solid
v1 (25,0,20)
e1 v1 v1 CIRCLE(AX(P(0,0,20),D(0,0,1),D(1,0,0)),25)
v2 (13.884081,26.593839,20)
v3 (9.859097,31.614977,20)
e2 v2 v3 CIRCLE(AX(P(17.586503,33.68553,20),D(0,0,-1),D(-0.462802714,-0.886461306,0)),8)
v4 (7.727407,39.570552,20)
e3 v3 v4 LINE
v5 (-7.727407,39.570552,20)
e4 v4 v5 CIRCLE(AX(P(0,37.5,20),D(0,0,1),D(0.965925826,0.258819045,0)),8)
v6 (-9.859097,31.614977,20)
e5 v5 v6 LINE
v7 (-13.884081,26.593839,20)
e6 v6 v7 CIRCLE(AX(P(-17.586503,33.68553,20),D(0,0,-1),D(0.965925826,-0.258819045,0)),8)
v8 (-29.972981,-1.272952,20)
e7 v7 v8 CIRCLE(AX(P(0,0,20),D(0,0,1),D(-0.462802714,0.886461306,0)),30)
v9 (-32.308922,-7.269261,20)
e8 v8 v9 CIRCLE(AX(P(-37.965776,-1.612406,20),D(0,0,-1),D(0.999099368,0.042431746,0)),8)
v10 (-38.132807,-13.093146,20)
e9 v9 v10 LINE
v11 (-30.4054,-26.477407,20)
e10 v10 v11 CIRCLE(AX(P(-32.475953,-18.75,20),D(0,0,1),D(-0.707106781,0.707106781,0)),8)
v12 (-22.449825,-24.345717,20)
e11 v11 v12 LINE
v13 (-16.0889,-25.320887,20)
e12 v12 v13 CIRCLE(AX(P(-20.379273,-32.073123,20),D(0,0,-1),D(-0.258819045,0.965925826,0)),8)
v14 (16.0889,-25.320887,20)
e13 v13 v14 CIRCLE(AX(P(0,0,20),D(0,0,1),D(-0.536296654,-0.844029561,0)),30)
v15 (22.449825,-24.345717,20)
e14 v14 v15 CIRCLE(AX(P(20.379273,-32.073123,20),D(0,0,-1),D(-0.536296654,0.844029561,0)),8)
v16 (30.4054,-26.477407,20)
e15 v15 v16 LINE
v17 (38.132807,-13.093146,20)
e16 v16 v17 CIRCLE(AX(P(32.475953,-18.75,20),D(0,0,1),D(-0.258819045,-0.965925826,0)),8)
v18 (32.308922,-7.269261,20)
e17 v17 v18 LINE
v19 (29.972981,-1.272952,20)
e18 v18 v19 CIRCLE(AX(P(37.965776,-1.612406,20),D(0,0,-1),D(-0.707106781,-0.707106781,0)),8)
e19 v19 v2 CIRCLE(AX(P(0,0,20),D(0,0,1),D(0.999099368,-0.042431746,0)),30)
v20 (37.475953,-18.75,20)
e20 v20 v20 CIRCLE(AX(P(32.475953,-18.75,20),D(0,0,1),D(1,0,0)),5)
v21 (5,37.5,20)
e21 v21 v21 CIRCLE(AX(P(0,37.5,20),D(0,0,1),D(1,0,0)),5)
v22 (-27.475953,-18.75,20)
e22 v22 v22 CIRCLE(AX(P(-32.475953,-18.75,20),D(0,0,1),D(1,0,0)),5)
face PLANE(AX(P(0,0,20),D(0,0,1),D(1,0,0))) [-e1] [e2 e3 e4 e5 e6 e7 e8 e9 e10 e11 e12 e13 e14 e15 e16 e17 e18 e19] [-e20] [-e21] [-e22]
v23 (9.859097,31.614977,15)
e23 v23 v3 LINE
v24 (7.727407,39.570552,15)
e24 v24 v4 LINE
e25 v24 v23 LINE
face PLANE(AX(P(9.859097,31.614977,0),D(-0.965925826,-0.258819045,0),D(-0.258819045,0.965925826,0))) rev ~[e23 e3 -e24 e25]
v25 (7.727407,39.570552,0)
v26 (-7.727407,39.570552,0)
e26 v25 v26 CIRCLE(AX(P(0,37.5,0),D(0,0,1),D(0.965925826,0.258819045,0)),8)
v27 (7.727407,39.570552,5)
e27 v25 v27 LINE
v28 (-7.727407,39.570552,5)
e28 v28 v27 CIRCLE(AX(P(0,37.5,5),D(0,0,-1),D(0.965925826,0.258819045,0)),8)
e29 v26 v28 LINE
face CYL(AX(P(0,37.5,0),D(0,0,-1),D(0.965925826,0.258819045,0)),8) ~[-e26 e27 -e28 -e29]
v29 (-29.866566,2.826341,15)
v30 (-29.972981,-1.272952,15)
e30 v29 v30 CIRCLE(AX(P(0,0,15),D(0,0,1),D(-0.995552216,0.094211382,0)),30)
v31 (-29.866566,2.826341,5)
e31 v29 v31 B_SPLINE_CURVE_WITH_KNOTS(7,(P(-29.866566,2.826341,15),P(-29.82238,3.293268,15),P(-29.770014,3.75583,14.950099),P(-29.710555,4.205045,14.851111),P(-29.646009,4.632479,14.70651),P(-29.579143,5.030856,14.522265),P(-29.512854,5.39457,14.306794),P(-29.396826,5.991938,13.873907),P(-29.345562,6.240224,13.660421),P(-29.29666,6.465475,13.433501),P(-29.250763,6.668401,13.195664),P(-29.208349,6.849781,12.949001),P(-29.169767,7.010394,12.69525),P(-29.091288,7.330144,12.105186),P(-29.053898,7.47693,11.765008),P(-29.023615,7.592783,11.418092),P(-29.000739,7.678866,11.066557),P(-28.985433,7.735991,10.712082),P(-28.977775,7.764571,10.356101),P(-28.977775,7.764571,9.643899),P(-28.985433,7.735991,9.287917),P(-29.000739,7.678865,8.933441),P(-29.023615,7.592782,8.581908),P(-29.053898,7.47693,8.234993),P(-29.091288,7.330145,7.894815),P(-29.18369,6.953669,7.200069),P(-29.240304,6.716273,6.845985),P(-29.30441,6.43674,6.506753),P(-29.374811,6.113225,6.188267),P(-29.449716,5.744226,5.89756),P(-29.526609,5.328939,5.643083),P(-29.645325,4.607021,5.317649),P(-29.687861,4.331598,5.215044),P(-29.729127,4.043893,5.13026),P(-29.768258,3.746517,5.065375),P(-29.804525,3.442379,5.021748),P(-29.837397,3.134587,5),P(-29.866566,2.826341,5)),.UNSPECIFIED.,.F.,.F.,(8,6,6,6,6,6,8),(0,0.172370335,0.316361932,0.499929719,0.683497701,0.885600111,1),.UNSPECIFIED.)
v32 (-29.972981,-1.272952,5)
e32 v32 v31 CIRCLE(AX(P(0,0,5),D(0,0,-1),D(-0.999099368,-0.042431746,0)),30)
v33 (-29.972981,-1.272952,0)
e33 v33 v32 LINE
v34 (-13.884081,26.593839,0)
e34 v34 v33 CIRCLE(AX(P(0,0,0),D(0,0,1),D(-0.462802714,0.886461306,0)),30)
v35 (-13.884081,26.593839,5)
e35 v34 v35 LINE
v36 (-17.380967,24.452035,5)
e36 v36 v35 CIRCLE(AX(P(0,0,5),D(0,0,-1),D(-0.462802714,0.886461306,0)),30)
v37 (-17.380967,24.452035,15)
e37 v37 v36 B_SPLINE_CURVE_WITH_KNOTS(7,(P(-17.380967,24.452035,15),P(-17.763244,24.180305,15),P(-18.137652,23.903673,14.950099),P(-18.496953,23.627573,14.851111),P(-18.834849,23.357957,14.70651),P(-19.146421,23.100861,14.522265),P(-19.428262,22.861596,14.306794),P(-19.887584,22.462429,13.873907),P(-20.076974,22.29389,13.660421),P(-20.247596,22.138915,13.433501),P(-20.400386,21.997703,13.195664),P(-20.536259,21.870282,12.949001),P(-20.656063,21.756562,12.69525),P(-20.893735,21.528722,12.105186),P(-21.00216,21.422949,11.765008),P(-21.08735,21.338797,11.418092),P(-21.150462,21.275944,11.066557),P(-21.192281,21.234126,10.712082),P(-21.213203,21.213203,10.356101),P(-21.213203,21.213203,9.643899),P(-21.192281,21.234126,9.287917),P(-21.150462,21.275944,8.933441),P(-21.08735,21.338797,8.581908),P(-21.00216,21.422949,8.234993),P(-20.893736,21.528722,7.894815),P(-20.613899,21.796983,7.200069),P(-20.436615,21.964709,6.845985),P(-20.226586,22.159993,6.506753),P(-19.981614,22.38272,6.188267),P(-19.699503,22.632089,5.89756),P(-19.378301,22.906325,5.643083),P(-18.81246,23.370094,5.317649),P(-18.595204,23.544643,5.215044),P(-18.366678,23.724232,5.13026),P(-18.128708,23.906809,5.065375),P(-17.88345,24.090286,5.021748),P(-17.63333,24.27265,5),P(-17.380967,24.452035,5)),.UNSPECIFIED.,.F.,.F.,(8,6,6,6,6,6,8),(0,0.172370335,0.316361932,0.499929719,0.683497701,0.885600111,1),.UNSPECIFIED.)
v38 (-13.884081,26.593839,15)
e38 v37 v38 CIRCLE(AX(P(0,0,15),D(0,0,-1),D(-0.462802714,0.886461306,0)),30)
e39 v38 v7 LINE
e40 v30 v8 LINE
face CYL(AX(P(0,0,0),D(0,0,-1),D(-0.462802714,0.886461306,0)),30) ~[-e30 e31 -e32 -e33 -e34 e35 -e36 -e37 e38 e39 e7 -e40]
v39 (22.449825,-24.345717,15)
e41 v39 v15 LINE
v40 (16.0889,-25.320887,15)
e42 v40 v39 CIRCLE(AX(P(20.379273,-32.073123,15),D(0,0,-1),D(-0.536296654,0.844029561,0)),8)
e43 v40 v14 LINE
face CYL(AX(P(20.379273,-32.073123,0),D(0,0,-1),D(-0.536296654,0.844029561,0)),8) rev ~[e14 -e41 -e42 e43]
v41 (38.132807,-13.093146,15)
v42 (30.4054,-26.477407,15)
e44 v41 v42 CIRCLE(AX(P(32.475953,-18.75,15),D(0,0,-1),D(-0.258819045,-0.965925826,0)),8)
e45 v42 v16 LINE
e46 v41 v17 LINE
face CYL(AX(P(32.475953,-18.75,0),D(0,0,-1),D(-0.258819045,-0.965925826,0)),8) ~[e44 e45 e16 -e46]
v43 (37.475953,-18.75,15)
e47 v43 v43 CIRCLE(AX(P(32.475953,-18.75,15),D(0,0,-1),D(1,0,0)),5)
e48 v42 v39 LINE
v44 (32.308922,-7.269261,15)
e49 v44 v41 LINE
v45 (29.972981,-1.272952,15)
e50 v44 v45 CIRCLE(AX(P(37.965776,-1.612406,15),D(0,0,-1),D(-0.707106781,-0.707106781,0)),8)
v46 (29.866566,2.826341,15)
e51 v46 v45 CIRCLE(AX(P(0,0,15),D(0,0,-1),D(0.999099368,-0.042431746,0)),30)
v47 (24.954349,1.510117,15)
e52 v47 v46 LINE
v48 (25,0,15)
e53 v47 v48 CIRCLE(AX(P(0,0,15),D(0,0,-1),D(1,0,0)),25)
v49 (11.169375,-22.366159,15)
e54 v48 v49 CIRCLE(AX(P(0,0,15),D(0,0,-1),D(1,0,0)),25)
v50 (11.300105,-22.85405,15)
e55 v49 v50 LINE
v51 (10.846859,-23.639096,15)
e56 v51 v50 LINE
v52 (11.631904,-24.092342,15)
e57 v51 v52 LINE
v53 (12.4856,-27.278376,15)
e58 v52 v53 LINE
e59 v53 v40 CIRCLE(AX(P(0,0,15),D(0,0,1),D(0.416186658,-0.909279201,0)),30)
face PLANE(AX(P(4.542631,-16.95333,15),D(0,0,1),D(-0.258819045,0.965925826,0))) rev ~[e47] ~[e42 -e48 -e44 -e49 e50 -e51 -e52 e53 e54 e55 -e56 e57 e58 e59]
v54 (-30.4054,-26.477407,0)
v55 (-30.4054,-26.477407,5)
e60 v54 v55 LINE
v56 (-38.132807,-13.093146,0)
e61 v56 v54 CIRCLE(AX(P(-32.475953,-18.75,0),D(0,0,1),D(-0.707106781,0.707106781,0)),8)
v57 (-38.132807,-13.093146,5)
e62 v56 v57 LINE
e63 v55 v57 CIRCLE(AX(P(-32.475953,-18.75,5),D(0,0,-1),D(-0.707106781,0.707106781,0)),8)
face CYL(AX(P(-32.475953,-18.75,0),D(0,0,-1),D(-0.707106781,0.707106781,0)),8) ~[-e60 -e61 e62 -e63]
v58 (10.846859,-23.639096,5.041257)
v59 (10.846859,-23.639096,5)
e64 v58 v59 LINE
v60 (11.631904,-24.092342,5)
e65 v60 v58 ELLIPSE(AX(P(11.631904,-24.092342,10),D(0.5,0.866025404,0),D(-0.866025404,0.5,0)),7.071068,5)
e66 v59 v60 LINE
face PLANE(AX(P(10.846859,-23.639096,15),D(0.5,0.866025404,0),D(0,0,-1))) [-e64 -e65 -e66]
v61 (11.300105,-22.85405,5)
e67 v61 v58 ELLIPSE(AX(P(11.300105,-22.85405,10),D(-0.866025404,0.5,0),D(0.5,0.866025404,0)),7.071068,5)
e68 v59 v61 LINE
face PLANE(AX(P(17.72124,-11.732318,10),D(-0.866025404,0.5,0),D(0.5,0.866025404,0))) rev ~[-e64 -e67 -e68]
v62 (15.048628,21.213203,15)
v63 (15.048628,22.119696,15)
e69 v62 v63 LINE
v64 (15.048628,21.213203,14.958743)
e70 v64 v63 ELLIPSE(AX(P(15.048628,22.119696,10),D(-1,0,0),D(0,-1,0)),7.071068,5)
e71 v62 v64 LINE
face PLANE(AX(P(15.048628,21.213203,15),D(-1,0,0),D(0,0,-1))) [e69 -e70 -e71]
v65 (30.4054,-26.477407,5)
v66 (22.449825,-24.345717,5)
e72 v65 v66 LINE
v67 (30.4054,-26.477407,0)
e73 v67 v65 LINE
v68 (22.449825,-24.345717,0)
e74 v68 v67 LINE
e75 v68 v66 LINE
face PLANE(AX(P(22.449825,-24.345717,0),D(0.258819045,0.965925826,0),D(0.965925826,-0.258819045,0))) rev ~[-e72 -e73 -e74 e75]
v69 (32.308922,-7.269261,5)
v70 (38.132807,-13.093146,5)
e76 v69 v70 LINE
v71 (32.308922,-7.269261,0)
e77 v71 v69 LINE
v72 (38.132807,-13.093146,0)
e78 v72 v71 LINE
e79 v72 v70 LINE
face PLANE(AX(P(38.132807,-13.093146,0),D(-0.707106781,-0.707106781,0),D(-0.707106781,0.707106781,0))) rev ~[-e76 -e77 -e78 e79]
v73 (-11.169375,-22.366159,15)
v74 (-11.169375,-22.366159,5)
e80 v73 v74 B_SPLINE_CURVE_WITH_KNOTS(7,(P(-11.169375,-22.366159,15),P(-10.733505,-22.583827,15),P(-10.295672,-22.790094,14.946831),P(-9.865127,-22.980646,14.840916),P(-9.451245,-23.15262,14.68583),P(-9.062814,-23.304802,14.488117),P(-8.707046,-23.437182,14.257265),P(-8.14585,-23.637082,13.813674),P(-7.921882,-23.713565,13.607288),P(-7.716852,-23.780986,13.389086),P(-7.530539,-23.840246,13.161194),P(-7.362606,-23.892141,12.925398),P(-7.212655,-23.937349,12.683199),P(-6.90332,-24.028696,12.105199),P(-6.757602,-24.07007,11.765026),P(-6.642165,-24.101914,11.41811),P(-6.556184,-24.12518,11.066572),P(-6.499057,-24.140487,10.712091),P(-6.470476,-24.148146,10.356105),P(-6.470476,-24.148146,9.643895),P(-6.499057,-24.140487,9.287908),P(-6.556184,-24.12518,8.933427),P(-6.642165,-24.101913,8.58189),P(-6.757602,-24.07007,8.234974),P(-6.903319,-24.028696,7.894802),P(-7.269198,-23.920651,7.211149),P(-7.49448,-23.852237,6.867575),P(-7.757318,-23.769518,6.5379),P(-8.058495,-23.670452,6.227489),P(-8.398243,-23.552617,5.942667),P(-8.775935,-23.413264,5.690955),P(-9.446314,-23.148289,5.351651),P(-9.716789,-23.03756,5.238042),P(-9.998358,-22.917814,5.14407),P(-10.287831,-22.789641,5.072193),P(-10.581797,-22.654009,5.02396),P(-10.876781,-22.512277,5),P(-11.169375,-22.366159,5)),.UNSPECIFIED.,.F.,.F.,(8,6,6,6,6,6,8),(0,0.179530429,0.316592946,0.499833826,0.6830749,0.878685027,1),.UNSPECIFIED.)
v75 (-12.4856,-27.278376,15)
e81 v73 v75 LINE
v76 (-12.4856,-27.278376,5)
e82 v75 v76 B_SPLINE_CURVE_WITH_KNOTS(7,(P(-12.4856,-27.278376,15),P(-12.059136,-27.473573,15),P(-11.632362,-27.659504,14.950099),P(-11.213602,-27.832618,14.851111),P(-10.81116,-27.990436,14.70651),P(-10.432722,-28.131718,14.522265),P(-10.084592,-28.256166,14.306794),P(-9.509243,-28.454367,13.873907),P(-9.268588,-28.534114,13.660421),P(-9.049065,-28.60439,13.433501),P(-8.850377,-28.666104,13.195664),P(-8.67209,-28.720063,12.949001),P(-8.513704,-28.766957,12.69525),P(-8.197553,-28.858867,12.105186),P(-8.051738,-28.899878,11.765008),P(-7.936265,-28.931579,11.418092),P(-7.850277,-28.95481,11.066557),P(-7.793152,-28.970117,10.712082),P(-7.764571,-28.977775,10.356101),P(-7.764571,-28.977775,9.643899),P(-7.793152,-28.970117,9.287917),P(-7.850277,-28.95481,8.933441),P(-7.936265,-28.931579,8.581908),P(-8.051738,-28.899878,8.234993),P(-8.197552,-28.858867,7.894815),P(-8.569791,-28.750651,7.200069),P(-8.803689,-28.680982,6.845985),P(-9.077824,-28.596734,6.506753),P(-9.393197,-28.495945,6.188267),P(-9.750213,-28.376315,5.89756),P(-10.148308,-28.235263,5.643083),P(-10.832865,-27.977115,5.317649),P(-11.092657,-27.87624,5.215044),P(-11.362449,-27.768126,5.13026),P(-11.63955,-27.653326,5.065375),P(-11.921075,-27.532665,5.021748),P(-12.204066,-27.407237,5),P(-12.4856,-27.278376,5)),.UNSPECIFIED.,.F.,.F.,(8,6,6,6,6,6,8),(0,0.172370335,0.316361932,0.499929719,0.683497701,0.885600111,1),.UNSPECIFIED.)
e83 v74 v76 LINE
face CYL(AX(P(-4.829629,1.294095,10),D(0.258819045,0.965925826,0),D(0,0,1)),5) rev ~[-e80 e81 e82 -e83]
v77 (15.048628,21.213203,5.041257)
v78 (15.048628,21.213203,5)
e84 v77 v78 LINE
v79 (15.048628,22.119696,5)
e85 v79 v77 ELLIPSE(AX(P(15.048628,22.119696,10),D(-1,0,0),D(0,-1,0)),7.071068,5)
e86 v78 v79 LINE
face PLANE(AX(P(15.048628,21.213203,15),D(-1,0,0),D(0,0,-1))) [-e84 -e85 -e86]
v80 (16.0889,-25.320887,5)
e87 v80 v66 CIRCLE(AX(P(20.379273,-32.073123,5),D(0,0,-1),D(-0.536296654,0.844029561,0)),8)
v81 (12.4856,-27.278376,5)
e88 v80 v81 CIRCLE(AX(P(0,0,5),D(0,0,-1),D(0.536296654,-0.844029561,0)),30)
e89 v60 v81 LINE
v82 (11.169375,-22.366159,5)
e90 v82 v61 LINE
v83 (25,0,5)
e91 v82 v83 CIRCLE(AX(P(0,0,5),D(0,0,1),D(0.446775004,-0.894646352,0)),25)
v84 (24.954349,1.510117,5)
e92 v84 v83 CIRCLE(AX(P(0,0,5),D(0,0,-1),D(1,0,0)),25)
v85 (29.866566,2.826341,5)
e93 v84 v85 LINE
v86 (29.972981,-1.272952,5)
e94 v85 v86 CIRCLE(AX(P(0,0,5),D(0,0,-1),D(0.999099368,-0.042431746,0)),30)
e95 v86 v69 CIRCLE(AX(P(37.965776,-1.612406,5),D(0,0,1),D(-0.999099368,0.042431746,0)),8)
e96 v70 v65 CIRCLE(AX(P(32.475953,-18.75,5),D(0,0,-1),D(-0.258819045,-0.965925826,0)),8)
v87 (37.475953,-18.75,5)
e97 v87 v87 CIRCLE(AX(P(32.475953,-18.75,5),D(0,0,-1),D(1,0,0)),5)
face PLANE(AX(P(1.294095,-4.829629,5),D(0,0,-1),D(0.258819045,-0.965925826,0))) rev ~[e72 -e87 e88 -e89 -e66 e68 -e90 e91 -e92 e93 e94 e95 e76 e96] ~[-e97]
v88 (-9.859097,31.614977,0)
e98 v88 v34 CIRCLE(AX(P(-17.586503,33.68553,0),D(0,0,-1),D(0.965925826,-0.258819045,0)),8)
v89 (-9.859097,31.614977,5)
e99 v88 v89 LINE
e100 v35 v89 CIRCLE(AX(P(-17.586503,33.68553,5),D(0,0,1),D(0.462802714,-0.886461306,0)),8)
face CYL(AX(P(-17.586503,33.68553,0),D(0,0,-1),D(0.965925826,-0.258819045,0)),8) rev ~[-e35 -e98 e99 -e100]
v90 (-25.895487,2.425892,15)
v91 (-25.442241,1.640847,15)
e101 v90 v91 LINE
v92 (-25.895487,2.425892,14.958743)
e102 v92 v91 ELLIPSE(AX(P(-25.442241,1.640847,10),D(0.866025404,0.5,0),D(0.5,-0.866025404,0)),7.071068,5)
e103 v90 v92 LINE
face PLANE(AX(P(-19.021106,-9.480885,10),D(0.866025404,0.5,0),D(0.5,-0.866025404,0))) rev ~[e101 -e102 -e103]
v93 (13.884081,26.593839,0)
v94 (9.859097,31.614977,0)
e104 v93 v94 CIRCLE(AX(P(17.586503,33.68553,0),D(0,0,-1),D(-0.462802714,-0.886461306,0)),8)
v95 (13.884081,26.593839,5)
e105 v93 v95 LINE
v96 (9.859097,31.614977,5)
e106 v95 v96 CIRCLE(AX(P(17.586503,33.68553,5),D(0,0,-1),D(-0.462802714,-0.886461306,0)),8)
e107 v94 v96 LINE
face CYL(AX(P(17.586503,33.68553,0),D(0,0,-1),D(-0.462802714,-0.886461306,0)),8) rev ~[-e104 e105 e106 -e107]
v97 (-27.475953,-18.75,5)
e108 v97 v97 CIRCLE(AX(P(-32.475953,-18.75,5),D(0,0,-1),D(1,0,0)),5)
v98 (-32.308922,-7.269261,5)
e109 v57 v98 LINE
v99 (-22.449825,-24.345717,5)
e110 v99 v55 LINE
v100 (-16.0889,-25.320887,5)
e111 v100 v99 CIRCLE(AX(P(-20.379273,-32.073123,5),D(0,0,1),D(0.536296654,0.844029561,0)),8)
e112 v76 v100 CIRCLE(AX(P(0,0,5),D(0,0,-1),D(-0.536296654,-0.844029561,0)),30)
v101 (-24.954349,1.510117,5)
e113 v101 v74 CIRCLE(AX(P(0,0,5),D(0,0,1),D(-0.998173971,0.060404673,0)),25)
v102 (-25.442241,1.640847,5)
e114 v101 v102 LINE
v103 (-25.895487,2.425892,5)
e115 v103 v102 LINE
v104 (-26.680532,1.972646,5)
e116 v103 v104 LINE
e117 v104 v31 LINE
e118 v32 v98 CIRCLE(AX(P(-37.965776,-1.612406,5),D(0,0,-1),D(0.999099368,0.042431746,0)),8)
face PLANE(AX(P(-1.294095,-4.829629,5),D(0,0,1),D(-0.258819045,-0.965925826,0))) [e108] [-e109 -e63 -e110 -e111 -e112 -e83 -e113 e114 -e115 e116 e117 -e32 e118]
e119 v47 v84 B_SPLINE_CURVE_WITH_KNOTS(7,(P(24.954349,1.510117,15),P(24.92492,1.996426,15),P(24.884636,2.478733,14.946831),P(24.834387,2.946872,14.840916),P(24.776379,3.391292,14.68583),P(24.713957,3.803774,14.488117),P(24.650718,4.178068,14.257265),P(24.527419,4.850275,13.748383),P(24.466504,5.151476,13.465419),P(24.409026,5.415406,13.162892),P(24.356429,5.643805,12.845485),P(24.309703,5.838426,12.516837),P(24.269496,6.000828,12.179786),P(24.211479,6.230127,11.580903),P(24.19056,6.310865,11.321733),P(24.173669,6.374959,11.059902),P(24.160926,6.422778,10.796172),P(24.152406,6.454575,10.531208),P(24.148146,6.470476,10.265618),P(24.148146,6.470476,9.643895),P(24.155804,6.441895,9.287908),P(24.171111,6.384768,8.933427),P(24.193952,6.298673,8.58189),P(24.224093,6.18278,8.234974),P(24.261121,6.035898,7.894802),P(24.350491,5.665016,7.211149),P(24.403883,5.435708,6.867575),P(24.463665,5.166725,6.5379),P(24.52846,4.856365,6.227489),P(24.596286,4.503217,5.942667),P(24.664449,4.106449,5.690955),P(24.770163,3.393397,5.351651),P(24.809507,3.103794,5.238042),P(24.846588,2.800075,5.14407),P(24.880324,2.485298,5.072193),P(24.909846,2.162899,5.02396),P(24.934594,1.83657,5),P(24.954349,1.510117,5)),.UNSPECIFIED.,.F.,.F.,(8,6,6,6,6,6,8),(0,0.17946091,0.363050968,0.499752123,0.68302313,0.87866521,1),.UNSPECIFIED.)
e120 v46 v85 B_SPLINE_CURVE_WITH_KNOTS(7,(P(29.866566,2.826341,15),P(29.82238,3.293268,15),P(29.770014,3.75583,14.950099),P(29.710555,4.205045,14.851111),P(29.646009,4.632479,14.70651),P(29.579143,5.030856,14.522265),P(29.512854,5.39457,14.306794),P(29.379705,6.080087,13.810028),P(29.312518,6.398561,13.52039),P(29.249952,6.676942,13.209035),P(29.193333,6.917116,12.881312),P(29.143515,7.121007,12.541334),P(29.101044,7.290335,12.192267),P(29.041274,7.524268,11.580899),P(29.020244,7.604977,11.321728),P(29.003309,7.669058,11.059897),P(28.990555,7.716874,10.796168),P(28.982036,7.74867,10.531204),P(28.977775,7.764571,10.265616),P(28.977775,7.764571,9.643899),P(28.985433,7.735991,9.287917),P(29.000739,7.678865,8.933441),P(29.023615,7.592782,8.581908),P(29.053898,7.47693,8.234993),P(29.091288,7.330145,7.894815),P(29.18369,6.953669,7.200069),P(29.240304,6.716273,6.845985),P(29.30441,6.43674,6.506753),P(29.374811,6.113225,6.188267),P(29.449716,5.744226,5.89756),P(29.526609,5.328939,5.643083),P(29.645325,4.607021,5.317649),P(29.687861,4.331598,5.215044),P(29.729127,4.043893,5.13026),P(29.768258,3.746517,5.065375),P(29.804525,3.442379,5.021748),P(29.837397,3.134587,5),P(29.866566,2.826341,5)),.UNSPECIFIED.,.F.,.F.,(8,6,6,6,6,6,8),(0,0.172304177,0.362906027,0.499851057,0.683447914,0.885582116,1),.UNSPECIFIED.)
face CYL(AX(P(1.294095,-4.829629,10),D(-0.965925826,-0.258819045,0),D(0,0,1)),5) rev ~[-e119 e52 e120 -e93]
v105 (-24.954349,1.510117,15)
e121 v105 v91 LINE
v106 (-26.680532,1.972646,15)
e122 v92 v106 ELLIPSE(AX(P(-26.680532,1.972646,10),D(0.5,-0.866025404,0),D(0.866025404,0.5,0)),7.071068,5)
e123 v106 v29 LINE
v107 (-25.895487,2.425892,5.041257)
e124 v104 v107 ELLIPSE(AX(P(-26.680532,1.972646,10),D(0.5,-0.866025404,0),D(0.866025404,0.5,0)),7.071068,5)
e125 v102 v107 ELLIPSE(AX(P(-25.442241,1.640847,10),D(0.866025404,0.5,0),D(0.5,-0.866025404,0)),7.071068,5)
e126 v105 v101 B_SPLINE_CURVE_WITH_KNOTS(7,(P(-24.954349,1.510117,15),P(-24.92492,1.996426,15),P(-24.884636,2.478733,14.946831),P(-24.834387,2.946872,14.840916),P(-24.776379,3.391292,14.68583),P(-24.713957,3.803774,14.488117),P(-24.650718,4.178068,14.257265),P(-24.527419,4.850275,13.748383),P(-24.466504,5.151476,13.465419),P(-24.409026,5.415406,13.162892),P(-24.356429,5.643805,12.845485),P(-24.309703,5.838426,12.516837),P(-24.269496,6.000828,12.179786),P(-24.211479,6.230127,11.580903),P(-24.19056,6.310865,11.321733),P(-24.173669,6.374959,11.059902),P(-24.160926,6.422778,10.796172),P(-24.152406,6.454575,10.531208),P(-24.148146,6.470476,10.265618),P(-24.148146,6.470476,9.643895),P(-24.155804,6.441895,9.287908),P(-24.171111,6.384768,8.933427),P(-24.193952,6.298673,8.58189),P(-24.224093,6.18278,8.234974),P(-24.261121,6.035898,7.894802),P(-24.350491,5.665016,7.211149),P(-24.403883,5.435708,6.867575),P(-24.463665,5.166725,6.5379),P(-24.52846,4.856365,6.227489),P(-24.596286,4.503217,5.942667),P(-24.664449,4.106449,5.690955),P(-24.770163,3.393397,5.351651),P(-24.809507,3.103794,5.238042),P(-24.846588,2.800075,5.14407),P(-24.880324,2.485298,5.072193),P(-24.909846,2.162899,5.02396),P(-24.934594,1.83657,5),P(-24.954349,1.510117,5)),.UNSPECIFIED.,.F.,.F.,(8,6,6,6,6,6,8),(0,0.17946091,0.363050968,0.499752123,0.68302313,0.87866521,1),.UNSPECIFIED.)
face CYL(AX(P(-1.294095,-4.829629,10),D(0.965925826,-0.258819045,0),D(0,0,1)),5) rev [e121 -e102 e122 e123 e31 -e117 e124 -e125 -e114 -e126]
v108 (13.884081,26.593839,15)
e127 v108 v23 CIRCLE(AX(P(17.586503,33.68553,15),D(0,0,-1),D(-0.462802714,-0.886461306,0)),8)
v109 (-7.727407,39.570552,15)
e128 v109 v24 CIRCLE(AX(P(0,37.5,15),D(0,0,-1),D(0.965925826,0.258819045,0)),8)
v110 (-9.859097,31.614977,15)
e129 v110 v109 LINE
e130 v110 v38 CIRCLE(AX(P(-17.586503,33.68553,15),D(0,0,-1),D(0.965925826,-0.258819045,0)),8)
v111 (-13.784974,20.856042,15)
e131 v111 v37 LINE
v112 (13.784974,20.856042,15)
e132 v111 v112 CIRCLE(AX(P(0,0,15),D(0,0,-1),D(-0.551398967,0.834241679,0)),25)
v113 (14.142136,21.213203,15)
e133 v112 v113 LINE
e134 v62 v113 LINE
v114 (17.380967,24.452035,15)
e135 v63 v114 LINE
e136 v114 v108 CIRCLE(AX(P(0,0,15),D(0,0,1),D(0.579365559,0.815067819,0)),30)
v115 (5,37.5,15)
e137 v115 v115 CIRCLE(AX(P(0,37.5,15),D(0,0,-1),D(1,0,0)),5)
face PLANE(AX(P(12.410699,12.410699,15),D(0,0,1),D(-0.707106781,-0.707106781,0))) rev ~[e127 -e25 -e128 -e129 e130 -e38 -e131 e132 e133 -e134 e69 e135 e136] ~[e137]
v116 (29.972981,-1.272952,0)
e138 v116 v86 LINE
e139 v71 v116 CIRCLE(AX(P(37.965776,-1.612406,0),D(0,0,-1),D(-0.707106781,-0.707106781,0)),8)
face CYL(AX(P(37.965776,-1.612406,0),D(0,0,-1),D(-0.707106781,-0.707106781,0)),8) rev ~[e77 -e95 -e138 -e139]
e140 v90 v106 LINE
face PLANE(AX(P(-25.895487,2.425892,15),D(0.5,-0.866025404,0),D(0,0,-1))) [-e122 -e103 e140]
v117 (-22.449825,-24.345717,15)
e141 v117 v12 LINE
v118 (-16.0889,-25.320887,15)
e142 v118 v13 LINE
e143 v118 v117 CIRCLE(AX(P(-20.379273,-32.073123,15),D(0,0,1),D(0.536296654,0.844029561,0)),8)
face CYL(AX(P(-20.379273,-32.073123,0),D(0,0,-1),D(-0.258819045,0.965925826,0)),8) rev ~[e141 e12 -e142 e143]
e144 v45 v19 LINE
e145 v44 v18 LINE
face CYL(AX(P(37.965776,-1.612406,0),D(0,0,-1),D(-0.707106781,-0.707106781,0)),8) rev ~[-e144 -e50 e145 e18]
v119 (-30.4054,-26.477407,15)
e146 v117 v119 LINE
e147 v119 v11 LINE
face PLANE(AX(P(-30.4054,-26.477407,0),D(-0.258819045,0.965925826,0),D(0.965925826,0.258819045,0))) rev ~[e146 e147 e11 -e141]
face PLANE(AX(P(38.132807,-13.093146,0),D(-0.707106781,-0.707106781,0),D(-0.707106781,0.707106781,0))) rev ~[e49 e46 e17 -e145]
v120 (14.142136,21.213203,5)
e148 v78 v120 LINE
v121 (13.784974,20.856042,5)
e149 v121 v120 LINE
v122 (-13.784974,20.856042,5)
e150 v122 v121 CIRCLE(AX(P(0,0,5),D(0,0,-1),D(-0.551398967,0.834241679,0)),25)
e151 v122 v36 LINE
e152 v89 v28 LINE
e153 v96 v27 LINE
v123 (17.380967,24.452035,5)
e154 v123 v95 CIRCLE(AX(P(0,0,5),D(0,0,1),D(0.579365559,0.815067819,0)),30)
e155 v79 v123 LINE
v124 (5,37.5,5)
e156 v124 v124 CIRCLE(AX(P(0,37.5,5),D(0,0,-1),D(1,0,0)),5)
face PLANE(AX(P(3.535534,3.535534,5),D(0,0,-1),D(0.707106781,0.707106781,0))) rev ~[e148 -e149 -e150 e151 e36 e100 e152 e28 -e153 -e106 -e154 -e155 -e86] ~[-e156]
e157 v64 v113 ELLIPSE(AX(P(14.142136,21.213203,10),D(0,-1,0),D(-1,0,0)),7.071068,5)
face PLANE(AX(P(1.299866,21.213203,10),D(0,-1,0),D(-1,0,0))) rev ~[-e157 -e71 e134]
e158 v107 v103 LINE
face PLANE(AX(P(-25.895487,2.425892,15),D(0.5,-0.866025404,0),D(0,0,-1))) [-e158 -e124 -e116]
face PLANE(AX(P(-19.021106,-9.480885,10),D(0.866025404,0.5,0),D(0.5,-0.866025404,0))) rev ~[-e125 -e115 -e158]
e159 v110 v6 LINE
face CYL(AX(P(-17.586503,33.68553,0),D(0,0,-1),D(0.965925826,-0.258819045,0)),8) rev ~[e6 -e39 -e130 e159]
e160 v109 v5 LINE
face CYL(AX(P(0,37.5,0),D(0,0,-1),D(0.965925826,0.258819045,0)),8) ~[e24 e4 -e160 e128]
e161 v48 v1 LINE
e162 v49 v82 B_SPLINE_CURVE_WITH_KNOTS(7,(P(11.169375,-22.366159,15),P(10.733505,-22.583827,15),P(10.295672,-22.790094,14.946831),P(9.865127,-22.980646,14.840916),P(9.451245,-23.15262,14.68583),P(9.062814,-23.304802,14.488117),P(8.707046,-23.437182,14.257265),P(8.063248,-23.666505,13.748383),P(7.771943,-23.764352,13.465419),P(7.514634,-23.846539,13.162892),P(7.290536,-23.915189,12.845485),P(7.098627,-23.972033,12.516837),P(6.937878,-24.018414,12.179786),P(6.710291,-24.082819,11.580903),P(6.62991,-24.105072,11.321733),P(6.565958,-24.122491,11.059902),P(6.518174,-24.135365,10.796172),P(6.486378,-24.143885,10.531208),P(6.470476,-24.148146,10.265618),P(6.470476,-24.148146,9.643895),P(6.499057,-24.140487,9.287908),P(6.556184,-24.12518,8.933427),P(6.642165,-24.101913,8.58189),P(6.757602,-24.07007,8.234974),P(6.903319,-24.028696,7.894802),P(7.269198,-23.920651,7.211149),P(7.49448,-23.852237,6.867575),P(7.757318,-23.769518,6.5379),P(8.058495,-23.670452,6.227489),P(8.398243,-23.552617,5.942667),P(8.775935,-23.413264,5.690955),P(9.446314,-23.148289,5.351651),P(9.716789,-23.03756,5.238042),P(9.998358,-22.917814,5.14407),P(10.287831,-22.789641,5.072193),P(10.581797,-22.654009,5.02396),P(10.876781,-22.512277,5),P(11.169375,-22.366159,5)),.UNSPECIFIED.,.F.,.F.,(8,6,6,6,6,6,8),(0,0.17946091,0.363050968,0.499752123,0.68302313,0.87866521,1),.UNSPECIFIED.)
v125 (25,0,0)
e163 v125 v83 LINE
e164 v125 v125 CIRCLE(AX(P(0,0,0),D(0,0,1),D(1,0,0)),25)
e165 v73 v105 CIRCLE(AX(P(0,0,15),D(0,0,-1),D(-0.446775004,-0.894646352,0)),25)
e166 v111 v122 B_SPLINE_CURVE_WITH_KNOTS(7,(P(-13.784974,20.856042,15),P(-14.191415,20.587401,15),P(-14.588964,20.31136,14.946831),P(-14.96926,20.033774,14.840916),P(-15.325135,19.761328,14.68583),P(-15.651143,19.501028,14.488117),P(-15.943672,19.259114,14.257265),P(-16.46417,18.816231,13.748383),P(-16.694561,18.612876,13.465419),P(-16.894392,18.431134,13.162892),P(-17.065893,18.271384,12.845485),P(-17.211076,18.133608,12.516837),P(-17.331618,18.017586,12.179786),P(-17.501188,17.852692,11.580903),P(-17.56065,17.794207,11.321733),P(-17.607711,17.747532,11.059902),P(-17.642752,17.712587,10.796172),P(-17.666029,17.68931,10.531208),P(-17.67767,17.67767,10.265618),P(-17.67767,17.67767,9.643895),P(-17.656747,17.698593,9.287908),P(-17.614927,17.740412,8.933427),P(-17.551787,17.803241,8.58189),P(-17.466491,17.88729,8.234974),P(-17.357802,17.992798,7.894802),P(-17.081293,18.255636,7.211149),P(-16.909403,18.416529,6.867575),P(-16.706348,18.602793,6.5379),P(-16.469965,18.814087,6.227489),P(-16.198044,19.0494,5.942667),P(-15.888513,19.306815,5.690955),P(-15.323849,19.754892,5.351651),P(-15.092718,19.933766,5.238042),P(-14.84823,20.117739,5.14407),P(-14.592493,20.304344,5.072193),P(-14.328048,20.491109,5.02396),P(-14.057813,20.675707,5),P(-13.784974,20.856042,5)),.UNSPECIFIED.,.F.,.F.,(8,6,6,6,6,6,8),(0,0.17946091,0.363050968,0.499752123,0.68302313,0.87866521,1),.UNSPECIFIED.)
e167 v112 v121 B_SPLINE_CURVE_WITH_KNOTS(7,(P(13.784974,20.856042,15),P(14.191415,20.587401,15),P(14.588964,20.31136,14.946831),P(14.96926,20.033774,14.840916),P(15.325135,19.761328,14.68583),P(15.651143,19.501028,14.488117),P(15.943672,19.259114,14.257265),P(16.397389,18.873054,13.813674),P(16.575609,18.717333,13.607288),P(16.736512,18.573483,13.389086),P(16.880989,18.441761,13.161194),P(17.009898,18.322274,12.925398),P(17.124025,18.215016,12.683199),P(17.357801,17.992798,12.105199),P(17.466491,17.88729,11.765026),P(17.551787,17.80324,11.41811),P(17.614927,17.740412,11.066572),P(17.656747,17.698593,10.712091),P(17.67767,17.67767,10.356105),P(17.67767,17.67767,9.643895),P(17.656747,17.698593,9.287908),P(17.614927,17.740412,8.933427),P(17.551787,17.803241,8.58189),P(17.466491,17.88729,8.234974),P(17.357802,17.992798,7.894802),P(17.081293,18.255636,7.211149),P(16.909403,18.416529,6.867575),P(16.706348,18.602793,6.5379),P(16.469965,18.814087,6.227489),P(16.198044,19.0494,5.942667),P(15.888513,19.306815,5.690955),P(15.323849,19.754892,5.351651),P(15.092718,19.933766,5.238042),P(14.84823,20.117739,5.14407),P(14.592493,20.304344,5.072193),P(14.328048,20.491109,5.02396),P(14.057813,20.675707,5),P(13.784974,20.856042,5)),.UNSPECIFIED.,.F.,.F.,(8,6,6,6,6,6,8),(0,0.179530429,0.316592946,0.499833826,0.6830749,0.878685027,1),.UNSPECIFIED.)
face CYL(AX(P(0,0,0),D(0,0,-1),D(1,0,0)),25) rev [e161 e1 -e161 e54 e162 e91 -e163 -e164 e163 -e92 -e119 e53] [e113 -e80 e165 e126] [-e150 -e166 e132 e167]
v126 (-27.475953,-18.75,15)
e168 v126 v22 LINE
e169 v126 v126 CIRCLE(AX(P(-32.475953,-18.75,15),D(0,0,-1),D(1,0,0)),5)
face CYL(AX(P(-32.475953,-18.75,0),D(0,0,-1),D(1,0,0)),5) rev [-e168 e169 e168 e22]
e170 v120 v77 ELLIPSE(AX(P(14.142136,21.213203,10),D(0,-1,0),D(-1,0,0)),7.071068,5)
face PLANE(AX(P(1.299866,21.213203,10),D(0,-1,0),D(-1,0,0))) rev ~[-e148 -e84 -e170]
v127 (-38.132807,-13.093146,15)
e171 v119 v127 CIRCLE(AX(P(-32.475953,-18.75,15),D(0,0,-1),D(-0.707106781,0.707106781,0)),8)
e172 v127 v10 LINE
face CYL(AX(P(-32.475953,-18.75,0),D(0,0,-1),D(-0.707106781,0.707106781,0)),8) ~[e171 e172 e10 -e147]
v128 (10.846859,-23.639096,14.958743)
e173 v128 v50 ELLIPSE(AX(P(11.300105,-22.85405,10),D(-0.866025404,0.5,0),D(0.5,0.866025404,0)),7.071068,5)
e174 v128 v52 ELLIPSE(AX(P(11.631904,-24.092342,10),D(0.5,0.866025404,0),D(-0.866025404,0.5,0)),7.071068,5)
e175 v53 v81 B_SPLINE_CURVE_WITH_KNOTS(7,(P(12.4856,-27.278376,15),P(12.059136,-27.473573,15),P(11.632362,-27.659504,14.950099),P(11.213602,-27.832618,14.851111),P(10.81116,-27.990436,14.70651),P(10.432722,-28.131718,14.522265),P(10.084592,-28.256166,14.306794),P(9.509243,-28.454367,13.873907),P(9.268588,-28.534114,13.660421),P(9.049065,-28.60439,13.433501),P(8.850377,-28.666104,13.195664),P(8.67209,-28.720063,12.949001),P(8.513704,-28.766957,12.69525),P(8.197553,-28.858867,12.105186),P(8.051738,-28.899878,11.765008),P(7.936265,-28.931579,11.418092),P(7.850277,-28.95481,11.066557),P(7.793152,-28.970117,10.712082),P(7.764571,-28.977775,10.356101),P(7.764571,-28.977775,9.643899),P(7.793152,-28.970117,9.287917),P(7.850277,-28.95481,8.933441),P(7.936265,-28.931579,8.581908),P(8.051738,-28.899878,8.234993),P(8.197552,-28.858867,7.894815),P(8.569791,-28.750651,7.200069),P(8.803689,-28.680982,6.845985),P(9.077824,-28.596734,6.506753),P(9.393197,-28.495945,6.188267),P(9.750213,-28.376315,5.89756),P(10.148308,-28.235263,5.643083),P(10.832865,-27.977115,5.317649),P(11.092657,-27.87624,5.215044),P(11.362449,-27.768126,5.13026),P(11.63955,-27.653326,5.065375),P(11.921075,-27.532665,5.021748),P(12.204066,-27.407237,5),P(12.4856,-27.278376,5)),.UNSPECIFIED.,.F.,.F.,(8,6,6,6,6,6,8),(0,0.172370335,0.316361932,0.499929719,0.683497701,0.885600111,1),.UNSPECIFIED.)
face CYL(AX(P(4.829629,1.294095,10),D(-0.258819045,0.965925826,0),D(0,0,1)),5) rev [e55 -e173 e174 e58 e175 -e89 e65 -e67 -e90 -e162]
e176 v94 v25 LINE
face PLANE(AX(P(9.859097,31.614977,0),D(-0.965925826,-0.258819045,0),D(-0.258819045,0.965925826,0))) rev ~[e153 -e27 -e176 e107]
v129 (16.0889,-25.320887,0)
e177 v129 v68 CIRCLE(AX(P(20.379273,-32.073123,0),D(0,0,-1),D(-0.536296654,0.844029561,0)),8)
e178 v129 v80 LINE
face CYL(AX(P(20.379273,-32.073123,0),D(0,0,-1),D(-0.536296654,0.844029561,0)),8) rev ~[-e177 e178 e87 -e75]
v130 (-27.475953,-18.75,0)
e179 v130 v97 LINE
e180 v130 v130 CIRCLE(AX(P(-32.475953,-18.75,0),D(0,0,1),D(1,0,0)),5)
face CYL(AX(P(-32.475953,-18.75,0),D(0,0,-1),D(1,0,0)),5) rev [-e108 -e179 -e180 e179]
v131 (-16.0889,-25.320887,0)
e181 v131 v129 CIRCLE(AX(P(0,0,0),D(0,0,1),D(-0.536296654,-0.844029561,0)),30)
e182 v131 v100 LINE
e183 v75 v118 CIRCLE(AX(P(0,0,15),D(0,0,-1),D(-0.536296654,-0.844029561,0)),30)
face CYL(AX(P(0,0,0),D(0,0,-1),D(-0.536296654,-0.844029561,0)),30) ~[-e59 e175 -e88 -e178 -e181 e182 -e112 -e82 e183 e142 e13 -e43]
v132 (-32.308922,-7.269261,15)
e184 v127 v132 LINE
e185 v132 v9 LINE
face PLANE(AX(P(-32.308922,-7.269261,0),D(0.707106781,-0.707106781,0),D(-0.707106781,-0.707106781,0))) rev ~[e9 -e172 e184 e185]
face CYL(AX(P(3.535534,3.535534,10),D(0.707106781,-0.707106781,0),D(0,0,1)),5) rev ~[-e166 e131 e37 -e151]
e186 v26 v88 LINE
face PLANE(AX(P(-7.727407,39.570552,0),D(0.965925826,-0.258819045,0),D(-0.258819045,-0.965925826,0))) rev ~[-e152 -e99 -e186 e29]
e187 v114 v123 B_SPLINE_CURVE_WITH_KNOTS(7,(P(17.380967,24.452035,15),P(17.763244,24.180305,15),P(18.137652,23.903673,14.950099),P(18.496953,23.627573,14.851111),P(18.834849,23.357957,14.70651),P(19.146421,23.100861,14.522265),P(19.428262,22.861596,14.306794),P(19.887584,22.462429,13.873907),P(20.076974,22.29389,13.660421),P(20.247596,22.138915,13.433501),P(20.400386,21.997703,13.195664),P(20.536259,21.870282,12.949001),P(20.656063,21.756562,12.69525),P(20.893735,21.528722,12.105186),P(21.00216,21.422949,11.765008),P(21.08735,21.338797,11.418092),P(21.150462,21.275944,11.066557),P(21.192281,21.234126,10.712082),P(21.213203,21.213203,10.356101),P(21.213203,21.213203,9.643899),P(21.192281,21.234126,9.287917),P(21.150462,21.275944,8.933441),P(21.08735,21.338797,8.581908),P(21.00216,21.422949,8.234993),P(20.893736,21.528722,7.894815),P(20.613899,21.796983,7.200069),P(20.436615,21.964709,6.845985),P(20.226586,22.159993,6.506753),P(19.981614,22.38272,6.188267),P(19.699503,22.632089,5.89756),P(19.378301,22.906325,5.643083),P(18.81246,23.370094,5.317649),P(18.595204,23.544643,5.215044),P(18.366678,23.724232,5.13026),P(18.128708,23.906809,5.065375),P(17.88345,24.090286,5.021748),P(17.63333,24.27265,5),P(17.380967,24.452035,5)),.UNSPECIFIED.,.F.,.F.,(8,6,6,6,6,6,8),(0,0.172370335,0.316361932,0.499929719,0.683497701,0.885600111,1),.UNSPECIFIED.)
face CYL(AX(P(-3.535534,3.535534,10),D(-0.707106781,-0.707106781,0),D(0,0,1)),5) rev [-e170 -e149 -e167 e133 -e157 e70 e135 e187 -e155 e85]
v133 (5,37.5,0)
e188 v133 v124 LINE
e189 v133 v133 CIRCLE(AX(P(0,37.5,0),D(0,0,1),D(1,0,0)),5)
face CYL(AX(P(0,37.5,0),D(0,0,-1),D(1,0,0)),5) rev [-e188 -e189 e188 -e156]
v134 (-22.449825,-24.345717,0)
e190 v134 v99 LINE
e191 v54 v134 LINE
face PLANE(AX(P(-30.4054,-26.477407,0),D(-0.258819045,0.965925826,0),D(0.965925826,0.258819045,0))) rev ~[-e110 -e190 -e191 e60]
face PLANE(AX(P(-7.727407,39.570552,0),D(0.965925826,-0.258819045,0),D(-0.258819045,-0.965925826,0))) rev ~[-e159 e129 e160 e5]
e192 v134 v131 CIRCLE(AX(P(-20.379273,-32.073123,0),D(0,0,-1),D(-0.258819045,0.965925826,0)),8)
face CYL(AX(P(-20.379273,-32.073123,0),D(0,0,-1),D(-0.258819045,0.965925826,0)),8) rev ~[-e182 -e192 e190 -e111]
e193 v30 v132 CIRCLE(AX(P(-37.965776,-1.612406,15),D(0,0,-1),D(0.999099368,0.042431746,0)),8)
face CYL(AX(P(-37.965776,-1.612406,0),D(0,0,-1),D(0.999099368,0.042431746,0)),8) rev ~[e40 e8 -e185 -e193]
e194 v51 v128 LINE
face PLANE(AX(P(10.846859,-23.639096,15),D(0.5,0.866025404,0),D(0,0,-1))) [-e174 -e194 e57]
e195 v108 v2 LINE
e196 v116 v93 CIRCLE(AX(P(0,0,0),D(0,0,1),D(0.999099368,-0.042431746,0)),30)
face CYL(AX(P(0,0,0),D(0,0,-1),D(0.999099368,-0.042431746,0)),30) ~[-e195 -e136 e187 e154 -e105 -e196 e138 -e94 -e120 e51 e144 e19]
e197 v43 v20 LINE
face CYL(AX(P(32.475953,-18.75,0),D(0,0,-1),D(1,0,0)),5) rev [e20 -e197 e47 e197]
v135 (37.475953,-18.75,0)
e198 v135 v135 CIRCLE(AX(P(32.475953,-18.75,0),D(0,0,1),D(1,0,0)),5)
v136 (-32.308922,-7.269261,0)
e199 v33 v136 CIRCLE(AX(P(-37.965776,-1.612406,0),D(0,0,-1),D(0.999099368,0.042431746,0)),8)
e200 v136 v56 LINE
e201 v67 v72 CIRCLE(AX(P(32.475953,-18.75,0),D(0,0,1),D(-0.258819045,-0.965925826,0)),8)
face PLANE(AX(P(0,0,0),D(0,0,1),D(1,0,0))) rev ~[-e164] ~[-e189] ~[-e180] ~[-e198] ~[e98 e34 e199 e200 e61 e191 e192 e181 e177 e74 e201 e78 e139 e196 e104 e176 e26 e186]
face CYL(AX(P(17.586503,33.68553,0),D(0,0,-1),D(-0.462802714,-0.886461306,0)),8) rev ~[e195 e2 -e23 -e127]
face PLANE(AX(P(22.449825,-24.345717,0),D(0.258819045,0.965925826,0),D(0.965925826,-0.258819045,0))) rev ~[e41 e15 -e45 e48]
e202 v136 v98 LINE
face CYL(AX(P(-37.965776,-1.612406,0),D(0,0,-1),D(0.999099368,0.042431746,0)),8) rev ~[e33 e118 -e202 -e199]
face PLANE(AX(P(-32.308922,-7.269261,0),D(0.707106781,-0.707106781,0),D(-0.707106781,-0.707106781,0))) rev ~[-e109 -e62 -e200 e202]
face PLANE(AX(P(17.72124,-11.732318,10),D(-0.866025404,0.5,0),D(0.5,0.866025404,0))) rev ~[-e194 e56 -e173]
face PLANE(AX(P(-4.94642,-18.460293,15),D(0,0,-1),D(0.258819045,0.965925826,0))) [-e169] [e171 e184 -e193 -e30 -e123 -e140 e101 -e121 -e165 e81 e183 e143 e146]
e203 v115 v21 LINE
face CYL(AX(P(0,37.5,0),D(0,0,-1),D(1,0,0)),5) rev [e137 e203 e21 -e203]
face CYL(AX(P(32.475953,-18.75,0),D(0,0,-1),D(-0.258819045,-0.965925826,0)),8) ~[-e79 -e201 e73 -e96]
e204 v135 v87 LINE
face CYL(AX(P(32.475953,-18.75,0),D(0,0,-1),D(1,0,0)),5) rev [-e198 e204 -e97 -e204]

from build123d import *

# Parameters (mm, degrees)
SKETCH1_R           = 25
SKETCH1_R_2         = 5
BOSS_EXTRUDE1_DEPTH = 20
CUT_EXTRUDE2_DEPTH  = 65.097993278
CUT_EXTRUDE5_DEPTH  = 65.09799338
SKETCH17_W          = 27.497524216
SKETCH17_H          = 10
CUT_EXTRUDE7_DEPTH  = 69.272212154
CIRPATTERN1_COUNT   = 3


with BuildPart() as part:
    # Sketch1 → Boss-Extrude1 (new body)
    with BuildSketch(Plane.XY):
        with BuildLine():
            Line((-7.72740661, 39.570552361), (-9.859096528, 31.614977283))
            ThreePointArc((-9.859096528, 31.614977283), (-11.344452128, 28.681851078), (-13.884081425, 26.593839192))
            ThreePointArc((-13.884081425, 26.593839192), (-25.980762114, 15), (-29.972981037, -1.272952374))
            ThreePointArc((-29.972981037, -1.272952374), (-30.511437725, -4.516341804), (-32.308921731, -7.26926059))
            Line((-32.308921731, -7.26926059), (-38.132806891, -13.093145751))
            ThreePointArc((-38.132806891, -13.093145751), (-39.404155872, -22.75), (-30.405400281, -26.47740661))
            Line((-30.405400281, -26.47740661), (-22.449825203, -24.345716693))
            ThreePointArc((-22.449825203, -24.345716693), (-19.166985597, -24.165509274), (-16.088899612, -25.320886818))
            ThreePointArc((-16.088899612, -25.320886818), (0, -30), (16.088899612, -25.320886818))
            ThreePointArc((16.088899612, -25.320886818), (19.166985597, -24.165509274), (22.449825203, -24.345716693))
            Line((22.449825203, -24.345716693), (30.405400281, -26.47740661))
            ThreePointArc((30.405400281, -26.47740661), (39.404155872, -22.75), (38.132806891, -13.093145751))
            Line((38.132806891, -13.093145751), (32.308921731, -7.26926059))
            ThreePointArc((32.308921731, -7.26926059), (30.511437725, -4.516341804), (29.972981037, -1.272952374))
            ThreePointArc((29.972981037, -1.272952374), (25.980762114, 15), (13.884081425, 26.593839192))
            ThreePointArc((13.884081425, 26.593839192), (11.344452128, 28.681851078), (9.859096528, 31.614977283))
            Line((9.859096528, 31.614977283), (7.72740661, 39.570552361))
            ThreePointArc((7.72740661, 39.570552361), (0, 45.5), (-7.72740661, 39.570552361))
        make_face()
        Circle(SKETCH1_R, mode=Mode.SUBTRACT)
        with Locations((0, 37.5)):
            Circle(SKETCH1_R_2, mode=Mode.SUBTRACT)
        with Locations((32.475952642, -18.75)):
            Circle(SKETCH1_R_2, mode=Mode.SUBTRACT)
        with Locations((-32.475952642, -18.75)):
            Circle(SKETCH1_R_2, mode=Mode.SUBTRACT)
    extrude(amount=BOSS_EXTRUDE1_DEPTH)

    # Sketch14 → Cut-Extrude2 (cut, through all)
    with BuildSketch(Plane(origin=(0, 0, 0), x_dir=(-0.7071067811865461, 0.707106781186549, 0), z_dir=(-0.707106781186549, -0.7071067811865461, 0))):
        with BuildLine():
            Line((19.111501151, -15), (5, -15))
            ThreePointArc((5, -15), (0, -10), (5, -5))
            Line((5, -5), (19.111501151, -5))
            ThreePointArc((19.111501151, -5), (24.111501151, -10), (19.111501151, -15))
        make_face()
    cut_extrude2 = extrude(amount=-CUT_EXTRUDE2_DEPTH, mode=Mode.SUBTRACT)

    # Sketch15 → Cut-Extrude5 (cut, through all)
    with BuildSketch(Plane(origin=(0, 0, 0), x_dir=(0.7071067811865489, 0.7071067811865462, 0), z_dir=(-0.7071067811865462, 0.7071067811865489, 0))):
        with BuildLine():
            Line((17.551379006, -15), (5, -15))
            ThreePointArc((5, -15), (0, -10), (5, -5))
            Line((5, -5), (17.551379006, -5))
            ThreePointArc((17.551379006, -5), (22.551379006, -10), (17.551379006, -15))
        make_face()
    cut_extrude5 = extrude(amount=CUT_EXTRUDE5_DEPTH, mode=Mode.SUBTRACT)

    # Sketch17 → Cut-Extrude7 (cut, through all)
    with BuildSketch(Plane(origin=(0, 21.213203436, 0), x_dir=(-1, 0, 0), z_dir=(0, -1, 0))):
        with Locations((-1.299865662, -10)):
            Rectangle(SKETCH17_W, SKETCH17_H)
    cut_extrude7 = extrude(amount=-CUT_EXTRUDE7_DEPTH, mode=Mode.SUBTRACT)

    # CirPattern1: Cut-Extrude2, Cut-Extrude5, Cut-Extrude7 ×3 about axis
    cirpattern1_axis = Axis((0, 0, 0), (0, 0, 1))
    add([cut_extrude2.rotate(cirpattern1_axis, i * 360 / CIRPATTERN1_COUNT) for i in range(1, CIRPATTERN1_COUNT)], mode=Mode.SUBTRACT)
    add([cut_extrude5.rotate(cirpattern1_axis, i * 360 / CIRPATTERN1_COUNT) for i in range(1, CIRPATTERN1_COUNT)], mode=Mode.SUBTRACT)
    add([cut_extrude7.rotate(cirpattern1_axis, i * 360 / CIRPATTERN1_COUNT) for i in range(1, CIRPATTERN1_COUNT)], mode=Mode.SUBTRACT)


solid = part.part
